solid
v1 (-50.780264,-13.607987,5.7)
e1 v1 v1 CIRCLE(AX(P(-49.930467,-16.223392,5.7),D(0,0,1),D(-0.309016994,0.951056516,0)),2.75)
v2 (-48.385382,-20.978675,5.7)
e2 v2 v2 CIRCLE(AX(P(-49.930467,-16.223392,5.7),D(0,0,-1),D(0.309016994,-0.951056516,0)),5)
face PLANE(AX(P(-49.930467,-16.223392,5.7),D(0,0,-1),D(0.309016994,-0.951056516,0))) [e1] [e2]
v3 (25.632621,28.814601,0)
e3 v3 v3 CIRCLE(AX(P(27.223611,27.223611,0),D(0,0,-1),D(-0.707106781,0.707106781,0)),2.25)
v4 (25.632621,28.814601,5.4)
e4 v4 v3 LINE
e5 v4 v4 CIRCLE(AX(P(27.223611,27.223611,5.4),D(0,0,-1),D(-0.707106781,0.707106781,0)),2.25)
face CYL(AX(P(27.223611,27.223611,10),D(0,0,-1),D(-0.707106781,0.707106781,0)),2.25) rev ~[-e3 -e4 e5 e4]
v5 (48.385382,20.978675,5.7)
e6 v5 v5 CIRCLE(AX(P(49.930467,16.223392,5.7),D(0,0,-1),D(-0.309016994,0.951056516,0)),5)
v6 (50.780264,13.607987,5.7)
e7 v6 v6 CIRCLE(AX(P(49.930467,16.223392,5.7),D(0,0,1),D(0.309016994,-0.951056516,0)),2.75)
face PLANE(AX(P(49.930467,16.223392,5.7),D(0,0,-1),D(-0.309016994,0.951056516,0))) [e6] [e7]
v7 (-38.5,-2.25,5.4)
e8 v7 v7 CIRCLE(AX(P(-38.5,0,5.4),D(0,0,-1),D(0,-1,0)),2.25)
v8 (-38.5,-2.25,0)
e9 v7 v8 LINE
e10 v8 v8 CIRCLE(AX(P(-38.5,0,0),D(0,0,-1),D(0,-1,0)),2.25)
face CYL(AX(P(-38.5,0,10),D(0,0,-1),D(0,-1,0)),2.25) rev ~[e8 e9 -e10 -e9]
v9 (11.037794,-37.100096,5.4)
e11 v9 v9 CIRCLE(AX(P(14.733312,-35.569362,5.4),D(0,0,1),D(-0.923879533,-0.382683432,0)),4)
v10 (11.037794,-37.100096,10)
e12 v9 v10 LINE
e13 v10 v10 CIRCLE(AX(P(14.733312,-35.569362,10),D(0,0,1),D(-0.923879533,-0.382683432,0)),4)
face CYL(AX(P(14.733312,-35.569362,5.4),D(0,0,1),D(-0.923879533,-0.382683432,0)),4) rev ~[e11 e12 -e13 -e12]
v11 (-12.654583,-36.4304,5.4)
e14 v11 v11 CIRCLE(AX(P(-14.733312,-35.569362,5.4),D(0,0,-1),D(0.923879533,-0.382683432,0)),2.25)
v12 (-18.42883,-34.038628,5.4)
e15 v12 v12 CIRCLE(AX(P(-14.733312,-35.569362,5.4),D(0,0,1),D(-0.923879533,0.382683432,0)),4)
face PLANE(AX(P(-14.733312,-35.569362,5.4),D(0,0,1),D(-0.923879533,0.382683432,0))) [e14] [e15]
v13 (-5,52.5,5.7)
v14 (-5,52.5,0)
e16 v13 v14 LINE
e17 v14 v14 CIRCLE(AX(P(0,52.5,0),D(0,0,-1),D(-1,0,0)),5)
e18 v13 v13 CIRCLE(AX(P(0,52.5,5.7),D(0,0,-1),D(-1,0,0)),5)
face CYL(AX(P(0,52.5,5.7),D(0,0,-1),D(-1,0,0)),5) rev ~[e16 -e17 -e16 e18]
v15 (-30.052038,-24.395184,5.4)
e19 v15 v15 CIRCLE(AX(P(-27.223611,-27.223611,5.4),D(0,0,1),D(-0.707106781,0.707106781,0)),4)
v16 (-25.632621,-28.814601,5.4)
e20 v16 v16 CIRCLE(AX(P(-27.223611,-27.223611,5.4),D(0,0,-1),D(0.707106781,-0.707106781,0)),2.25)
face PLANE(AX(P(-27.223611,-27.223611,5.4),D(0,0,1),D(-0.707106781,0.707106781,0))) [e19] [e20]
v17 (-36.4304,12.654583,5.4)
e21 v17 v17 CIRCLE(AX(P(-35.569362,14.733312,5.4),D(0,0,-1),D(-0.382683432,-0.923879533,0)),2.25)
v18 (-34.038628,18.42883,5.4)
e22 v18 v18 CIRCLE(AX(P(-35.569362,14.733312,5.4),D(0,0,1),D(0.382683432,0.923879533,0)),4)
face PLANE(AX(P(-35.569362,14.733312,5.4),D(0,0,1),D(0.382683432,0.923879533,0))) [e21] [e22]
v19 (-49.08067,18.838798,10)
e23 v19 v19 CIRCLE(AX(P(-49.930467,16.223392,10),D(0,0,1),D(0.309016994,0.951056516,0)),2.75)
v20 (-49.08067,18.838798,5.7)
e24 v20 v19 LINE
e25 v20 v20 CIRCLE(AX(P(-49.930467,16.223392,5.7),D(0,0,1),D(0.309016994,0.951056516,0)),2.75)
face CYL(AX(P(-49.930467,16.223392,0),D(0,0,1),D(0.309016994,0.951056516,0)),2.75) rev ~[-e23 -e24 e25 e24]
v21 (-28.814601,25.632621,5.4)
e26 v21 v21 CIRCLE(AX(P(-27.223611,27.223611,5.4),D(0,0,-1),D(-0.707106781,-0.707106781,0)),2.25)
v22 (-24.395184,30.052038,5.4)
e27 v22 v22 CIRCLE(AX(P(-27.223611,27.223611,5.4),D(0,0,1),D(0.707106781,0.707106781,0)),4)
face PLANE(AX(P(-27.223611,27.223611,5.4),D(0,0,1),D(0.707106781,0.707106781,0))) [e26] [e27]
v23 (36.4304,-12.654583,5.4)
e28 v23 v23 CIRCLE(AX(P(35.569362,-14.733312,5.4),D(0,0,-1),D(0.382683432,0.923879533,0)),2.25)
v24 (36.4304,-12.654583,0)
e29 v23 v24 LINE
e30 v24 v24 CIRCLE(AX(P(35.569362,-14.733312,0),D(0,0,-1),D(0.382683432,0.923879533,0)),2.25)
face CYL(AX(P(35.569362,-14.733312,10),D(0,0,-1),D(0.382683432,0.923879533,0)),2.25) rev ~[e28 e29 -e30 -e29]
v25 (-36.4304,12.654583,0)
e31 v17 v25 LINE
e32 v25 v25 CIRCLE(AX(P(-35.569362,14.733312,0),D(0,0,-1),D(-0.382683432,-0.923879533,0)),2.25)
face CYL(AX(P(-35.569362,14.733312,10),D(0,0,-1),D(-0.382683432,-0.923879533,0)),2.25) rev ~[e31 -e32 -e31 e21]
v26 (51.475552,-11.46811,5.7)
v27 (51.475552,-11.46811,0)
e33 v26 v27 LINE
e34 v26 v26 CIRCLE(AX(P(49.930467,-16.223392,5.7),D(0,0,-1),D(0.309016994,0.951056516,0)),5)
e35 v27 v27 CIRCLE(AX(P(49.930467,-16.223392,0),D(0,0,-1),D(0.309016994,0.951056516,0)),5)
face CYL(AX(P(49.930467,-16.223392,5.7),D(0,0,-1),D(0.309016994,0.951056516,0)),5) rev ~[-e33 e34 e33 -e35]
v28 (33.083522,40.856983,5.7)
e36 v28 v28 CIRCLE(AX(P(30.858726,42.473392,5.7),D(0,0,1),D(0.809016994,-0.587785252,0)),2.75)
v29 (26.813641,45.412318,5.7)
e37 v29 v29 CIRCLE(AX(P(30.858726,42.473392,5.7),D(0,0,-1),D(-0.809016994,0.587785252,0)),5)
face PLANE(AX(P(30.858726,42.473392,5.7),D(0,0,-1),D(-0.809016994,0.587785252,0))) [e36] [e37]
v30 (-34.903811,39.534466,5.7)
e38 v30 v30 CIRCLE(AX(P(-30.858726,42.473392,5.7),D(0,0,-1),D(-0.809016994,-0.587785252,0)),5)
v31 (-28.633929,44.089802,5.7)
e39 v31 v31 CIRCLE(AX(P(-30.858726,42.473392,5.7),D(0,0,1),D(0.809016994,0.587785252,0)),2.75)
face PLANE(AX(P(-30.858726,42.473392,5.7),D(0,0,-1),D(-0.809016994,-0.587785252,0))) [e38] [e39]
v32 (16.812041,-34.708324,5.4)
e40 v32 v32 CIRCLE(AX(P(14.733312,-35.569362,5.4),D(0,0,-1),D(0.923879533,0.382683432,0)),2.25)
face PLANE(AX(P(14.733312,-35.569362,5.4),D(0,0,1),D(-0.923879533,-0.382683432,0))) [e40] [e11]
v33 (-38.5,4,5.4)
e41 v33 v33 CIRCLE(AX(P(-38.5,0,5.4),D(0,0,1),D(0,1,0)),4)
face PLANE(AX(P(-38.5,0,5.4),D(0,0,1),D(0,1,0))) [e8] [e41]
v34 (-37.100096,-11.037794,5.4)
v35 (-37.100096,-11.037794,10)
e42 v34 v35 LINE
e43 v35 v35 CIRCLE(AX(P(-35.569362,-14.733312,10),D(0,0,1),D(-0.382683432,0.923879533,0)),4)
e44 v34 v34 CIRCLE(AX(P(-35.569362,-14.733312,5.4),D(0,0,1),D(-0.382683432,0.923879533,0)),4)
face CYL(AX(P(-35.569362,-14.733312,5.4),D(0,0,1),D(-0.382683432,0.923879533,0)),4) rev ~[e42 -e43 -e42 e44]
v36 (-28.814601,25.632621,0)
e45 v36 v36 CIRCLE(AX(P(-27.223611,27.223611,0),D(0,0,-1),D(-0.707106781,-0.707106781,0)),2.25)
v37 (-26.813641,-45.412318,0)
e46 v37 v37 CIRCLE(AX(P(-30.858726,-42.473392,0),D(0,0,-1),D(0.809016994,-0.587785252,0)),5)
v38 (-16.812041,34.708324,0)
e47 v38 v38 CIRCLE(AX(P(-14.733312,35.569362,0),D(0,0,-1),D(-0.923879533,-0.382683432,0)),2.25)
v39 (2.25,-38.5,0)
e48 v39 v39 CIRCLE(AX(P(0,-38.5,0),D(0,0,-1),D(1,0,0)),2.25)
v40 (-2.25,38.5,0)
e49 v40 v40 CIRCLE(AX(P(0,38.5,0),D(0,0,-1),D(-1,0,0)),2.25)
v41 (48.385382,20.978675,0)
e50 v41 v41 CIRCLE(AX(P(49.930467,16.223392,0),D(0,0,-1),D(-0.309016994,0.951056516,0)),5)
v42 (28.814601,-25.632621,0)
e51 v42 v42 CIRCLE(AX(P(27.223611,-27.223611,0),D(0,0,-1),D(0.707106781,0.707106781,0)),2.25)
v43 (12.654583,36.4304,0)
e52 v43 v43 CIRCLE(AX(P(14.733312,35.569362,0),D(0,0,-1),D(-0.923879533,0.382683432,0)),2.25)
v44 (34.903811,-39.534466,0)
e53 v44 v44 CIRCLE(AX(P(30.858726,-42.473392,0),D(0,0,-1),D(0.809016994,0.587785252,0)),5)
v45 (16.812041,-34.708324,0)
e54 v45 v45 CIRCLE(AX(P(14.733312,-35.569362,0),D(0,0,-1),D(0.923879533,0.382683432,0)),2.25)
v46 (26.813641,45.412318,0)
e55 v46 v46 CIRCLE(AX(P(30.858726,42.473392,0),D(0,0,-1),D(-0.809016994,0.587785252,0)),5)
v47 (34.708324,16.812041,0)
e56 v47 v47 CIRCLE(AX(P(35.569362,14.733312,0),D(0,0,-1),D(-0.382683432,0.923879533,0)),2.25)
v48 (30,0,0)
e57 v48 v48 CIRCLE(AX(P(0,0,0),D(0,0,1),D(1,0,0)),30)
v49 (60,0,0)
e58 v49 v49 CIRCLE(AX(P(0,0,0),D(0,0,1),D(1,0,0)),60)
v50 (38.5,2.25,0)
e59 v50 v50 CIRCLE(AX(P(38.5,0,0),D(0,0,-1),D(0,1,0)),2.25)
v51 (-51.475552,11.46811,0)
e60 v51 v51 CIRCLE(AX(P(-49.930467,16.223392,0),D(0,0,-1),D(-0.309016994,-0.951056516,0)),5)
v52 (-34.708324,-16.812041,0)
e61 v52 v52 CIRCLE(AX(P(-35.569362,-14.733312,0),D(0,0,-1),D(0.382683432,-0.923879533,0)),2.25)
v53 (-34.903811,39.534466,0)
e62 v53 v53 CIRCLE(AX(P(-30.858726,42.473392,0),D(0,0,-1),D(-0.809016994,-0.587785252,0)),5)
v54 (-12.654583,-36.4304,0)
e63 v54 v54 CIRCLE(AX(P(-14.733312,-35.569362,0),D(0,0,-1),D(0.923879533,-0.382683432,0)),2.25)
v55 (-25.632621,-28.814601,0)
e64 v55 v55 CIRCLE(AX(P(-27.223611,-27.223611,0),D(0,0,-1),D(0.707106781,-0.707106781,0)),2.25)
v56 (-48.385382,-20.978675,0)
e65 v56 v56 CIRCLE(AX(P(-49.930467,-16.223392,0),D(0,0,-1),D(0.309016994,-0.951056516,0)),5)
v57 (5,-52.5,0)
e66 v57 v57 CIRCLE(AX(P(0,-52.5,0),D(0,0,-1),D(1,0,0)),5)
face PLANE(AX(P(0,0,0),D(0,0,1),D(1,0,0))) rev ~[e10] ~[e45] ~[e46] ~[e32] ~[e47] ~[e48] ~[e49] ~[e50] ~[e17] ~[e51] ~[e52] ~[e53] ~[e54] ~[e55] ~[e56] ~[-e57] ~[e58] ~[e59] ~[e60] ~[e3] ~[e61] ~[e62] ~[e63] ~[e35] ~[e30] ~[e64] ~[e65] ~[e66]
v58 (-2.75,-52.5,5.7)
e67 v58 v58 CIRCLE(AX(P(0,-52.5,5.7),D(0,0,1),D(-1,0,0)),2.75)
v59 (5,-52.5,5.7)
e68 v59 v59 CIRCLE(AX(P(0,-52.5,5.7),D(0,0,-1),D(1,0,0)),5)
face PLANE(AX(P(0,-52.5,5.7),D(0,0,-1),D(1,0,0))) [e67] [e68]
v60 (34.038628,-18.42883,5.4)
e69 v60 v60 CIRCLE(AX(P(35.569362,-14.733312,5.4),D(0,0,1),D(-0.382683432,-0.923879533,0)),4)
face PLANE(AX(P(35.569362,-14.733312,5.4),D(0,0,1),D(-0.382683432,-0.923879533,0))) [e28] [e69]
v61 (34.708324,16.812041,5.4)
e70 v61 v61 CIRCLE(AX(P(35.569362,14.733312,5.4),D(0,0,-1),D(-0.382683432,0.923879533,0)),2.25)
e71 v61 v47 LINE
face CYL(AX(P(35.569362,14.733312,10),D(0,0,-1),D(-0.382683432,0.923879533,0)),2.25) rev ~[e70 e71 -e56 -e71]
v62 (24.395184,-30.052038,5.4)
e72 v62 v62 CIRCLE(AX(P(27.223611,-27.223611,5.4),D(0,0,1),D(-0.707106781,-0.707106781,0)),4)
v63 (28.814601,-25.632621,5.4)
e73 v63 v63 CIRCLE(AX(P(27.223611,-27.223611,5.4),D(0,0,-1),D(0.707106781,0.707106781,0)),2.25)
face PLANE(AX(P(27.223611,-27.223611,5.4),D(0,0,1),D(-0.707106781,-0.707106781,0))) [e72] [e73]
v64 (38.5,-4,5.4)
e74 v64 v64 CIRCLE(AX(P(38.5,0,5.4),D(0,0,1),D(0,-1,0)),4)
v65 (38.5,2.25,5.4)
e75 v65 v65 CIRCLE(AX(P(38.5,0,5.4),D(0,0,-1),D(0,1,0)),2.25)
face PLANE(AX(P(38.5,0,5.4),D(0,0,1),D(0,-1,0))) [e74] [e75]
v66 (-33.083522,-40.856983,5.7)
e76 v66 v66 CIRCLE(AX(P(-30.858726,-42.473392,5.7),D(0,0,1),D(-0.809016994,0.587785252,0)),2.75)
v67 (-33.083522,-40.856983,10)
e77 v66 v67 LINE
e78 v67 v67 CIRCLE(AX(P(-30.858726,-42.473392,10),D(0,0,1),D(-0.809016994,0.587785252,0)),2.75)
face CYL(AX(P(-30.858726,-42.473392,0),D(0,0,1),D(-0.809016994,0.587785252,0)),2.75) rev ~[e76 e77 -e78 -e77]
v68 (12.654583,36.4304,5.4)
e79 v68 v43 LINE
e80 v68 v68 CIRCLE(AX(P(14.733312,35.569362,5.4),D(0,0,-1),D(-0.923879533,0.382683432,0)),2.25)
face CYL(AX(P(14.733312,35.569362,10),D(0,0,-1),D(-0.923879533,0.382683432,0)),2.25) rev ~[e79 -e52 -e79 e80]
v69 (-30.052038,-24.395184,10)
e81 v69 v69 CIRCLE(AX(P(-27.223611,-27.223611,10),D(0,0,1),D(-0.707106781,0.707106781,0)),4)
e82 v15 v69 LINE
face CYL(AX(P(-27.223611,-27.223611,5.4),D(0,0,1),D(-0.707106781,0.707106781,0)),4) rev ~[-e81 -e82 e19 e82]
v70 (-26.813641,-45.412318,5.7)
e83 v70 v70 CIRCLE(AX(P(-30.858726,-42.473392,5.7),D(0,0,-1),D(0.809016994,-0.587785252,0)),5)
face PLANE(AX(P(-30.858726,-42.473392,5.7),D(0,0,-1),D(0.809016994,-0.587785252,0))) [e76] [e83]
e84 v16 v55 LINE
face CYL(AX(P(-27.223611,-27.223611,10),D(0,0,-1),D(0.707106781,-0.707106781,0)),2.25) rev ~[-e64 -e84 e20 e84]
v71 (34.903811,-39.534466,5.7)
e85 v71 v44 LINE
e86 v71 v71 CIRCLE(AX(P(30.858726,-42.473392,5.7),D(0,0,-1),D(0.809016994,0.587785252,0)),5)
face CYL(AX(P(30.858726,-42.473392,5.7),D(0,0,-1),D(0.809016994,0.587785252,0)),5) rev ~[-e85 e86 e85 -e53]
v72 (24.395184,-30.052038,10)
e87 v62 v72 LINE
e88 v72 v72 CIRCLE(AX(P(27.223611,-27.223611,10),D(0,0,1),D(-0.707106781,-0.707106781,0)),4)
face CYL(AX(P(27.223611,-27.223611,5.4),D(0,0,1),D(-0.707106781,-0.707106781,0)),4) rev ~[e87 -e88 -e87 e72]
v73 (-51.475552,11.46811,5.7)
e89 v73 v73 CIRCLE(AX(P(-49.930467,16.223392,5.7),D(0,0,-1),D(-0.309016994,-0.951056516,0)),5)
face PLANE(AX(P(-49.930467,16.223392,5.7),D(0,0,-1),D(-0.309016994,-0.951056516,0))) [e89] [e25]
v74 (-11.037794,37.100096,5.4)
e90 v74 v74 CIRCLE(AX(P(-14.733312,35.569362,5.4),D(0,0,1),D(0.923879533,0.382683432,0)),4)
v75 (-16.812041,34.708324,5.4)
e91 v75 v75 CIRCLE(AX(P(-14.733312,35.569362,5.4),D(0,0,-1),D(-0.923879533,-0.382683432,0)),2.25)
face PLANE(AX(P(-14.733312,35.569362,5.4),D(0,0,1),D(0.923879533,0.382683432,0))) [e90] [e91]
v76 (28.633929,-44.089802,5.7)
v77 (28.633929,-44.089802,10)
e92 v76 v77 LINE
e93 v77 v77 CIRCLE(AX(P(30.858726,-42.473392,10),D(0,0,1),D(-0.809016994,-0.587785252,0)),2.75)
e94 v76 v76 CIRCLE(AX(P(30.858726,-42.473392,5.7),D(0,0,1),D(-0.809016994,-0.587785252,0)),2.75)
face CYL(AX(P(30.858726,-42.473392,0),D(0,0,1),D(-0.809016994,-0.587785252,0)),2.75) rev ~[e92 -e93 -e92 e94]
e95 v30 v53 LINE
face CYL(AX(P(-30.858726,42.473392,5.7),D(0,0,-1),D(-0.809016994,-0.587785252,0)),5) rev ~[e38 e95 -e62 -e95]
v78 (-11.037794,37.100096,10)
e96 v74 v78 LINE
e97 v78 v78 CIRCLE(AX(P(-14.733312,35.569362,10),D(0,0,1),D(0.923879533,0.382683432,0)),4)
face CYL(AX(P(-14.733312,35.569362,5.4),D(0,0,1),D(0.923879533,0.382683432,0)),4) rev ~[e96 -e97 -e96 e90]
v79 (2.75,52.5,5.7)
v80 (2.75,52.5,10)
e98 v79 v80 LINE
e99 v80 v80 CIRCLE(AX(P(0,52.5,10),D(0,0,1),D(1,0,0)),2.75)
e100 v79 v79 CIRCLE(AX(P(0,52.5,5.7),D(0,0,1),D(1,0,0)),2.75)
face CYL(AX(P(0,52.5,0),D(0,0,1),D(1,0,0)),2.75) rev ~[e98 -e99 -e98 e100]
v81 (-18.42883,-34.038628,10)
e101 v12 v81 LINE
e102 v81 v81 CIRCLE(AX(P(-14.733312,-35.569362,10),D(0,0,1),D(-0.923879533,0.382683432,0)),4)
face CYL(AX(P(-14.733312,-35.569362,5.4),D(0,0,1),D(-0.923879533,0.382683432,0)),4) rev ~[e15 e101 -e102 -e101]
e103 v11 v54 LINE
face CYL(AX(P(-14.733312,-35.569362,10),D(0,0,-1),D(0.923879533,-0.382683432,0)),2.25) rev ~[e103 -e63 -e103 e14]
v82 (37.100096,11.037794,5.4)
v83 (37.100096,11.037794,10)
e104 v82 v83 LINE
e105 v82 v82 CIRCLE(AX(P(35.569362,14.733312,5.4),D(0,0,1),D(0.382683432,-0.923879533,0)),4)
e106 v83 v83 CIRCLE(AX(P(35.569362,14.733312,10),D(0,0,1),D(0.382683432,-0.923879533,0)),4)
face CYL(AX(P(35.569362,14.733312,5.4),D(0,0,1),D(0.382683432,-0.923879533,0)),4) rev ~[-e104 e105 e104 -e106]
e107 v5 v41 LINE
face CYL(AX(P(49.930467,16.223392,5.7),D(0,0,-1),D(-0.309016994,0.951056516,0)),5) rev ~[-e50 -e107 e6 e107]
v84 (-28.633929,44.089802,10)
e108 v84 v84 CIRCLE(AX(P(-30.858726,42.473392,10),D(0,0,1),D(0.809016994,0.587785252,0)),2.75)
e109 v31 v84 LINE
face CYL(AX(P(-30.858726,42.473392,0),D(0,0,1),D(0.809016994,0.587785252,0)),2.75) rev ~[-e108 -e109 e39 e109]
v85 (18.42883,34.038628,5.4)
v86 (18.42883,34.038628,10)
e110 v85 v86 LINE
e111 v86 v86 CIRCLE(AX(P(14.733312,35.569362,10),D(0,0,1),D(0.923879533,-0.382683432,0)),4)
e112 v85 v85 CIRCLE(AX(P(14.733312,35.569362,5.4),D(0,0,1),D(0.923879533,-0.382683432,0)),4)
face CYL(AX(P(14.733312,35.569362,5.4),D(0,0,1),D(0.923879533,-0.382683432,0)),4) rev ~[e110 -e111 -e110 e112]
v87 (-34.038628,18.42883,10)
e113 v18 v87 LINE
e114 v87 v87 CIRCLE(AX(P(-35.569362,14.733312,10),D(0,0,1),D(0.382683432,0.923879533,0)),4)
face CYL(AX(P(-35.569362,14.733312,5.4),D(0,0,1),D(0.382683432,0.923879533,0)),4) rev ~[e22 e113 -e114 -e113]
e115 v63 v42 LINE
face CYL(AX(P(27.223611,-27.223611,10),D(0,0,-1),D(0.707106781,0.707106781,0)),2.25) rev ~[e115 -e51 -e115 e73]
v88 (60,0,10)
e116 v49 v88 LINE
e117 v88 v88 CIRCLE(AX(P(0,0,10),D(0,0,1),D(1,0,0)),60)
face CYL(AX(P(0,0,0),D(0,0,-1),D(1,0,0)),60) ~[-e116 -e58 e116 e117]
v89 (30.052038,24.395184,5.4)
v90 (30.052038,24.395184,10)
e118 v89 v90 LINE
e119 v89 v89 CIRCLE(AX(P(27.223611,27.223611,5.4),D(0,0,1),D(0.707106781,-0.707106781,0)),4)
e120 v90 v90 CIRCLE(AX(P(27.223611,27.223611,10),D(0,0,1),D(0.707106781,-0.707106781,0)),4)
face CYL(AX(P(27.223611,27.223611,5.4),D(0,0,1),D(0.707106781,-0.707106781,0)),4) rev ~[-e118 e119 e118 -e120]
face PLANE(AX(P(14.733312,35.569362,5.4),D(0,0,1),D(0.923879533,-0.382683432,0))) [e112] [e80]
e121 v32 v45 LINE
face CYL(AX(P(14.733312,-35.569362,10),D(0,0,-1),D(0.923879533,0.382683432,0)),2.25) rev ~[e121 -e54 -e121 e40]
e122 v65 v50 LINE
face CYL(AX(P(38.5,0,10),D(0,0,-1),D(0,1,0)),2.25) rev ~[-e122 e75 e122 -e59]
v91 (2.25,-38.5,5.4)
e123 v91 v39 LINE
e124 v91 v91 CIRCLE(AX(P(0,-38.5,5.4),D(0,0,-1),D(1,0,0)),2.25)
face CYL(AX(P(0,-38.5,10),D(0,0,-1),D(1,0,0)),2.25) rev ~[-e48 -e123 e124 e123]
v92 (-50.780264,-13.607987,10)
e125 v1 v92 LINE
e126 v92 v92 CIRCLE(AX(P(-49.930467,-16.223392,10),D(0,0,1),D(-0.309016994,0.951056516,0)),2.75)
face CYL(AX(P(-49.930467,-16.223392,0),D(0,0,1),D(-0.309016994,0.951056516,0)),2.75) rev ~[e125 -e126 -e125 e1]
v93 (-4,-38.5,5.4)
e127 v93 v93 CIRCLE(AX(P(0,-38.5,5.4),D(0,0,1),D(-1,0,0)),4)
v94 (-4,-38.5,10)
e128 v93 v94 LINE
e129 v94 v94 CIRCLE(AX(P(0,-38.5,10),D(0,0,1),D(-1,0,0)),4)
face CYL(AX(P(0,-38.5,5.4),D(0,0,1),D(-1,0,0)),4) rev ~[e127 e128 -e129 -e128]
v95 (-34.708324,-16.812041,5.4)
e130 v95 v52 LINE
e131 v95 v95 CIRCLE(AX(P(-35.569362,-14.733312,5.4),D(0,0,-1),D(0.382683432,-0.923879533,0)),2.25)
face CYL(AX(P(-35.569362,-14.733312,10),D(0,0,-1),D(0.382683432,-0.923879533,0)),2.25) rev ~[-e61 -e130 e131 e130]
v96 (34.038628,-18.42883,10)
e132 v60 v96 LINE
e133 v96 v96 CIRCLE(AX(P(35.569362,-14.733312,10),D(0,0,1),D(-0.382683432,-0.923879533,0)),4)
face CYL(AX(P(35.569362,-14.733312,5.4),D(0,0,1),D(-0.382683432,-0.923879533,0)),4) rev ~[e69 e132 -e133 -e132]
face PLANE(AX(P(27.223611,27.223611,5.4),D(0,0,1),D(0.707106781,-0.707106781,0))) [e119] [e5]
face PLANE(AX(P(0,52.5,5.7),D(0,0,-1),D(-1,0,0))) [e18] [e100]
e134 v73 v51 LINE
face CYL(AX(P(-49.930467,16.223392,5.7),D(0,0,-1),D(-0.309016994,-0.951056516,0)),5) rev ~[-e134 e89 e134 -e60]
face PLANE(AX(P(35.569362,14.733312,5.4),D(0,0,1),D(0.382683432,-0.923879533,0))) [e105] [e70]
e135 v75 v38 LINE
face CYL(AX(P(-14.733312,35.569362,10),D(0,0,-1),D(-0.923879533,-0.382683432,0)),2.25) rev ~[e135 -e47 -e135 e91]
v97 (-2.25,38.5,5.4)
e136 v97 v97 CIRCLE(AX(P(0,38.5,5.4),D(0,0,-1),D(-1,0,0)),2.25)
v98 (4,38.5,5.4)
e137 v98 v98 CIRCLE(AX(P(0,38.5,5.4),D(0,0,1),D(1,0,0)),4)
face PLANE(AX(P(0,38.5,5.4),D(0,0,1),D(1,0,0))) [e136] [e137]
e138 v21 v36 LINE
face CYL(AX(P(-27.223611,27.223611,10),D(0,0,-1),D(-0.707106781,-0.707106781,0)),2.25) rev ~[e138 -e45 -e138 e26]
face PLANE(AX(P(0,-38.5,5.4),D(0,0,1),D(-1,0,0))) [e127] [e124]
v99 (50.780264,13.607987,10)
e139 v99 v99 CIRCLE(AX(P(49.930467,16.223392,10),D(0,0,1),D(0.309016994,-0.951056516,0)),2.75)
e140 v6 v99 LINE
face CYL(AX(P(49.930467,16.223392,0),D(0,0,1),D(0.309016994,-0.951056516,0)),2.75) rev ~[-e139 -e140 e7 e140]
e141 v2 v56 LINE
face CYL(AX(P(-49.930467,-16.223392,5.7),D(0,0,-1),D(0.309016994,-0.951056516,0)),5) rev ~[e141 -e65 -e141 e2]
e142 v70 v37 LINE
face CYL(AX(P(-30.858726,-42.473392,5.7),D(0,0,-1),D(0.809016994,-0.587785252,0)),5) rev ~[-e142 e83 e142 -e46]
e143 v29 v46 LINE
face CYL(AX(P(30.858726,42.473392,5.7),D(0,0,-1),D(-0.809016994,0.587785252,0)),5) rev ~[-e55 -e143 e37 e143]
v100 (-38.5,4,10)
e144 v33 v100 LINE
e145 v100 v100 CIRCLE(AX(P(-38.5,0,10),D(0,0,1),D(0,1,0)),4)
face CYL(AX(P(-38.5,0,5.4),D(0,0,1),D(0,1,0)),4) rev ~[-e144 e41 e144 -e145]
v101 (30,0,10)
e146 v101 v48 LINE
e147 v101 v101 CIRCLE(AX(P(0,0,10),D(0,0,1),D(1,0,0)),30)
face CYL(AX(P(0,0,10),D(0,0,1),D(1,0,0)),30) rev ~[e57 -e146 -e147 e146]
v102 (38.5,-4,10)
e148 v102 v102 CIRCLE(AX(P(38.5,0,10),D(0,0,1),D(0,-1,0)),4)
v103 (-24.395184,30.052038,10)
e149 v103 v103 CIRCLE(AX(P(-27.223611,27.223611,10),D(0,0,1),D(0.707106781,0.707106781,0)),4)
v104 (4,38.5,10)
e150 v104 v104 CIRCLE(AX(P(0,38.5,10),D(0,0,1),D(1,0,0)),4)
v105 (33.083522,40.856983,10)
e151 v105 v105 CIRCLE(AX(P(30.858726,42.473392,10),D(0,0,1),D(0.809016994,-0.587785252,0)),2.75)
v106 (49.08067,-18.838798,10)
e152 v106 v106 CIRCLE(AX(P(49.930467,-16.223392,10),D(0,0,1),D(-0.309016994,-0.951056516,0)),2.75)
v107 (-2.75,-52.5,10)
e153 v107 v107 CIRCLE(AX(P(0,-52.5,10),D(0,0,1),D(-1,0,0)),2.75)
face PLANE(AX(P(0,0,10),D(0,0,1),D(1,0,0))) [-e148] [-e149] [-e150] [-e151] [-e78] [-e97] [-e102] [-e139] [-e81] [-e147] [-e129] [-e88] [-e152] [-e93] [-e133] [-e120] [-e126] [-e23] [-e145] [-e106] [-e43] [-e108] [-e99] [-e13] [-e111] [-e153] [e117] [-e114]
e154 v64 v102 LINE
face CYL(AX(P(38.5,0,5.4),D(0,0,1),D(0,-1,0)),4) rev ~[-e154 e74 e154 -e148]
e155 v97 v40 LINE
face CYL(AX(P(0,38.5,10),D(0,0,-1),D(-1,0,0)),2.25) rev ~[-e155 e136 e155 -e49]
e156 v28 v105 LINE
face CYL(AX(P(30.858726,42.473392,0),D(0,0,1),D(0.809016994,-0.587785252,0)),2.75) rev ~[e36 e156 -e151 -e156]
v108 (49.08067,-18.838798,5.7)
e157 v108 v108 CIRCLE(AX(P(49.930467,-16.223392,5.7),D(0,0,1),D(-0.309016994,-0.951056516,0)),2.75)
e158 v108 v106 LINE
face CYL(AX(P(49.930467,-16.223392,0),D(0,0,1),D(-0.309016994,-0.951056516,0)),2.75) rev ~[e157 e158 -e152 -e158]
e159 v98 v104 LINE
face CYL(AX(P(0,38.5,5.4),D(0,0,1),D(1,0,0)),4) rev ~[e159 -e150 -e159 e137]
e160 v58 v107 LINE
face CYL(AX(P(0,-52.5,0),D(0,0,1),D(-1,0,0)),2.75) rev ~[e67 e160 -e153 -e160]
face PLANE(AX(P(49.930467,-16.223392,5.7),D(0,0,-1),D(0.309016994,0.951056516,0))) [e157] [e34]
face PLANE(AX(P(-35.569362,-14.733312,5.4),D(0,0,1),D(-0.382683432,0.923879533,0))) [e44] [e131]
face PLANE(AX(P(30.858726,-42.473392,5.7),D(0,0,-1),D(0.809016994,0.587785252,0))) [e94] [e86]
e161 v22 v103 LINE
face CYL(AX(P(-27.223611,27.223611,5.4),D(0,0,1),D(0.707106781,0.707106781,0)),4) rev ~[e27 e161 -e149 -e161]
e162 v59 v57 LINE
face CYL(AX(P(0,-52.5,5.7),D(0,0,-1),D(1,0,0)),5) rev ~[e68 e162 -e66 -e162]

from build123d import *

# Parameters (mm, degrees)
SKETCH_1_R                = 60
EXTRUDE_1_DEPTH           = 10
SKETCH_4_R                = 30
CUT_EXTRUDE_1_DEPTH       = 86.440037453
HOLE_WIZARD_1_D           = 4.5
HOLE_WIZARD_1_CBORE_D     = 8
HOLE_WIZARD_1_CBORE_DEPTH = 4.6
PATTERN_CIRCULAR_1_COUNT  = 16
HOLE_WIZARD_2_D           = 5.5
HOLE_WIZARD_2_CBORE_D     = 10
HOLE_WIZARD_2_CBORE_DEPTH = 5.7
PATTERN_CIRCULAR_2_COUNT  = 10


with BuildPart() as part:
    # 草图1 → 凸台-拉伸1 (new body)
    with BuildSketch(Plane.XY):
        Circle(SKETCH_1_R)
    extrude(amount=EXTRUDE_1_DEPTH)

    # 草图4 → 切除-拉伸1 (cut, through all)
    with BuildSketch(Plane.XY.offset(10)):
        Circle(SKETCH_4_R)
    extrude(amount=-CUT_EXTRUDE_1_DEPTH, mode=Mode.SUBTRACT)

    # 打孔尺寸(%根据)内六角圆柱头螺钉的类型1 (through all)
    with Locations(Plane.XY.offset(10)):
        with Locations((0, 38.5)):
            hole_wizard_1 = CounterBoreHole(HOLE_WIZARD_1_D / 2, HOLE_WIZARD_1_CBORE_D / 2, HOLE_WIZARD_1_CBORE_DEPTH)

    # 阵列(圆周)1: 打孔尺寸(%根据)内六角圆柱头螺钉的类型1 ×16 about axis
    pattern_circular_1_axis = Axis((0, 0, 0), (0, 0, 1))
    for i in range(1, PATTERN_CIRCULAR_1_COUNT):
        add(hole_wizard_1.rotate(pattern_circular_1_axis, i * 360 / PATTERN_CIRCULAR_1_COUNT), mode=Mode.SUBTRACT)

    # 打孔尺寸(%根据)内六角圆柱头螺钉的类型2 (through all)
    with Locations(Plane(origin=(0, 0, 0), x_dir=(-1, 0, 0), z_dir=(0, 0, -1))):
        with Locations((0, 52.5)):
            hole_wizard_2 = CounterBoreHole(HOLE_WIZARD_2_D / 2, HOLE_WIZARD_2_CBORE_D / 2, HOLE_WIZARD_2_CBORE_DEPTH)

    # 阵列(圆周)2: 打孔尺寸(%根据)内六角圆柱头螺钉的类型2 ×10 about axis
    pattern_circular_2_axis = Axis((0, 0, 0), (0, 0, 1))
    for i in range(1, PATTERN_CIRCULAR_2_COUNT):
        add(hole_wizard_2.rotate(pattern_circular_2_axis, i * 360 / PATTERN_CIRCULAR_2_COUNT), mode=Mode.SUBTRACT)


solid = part.part
